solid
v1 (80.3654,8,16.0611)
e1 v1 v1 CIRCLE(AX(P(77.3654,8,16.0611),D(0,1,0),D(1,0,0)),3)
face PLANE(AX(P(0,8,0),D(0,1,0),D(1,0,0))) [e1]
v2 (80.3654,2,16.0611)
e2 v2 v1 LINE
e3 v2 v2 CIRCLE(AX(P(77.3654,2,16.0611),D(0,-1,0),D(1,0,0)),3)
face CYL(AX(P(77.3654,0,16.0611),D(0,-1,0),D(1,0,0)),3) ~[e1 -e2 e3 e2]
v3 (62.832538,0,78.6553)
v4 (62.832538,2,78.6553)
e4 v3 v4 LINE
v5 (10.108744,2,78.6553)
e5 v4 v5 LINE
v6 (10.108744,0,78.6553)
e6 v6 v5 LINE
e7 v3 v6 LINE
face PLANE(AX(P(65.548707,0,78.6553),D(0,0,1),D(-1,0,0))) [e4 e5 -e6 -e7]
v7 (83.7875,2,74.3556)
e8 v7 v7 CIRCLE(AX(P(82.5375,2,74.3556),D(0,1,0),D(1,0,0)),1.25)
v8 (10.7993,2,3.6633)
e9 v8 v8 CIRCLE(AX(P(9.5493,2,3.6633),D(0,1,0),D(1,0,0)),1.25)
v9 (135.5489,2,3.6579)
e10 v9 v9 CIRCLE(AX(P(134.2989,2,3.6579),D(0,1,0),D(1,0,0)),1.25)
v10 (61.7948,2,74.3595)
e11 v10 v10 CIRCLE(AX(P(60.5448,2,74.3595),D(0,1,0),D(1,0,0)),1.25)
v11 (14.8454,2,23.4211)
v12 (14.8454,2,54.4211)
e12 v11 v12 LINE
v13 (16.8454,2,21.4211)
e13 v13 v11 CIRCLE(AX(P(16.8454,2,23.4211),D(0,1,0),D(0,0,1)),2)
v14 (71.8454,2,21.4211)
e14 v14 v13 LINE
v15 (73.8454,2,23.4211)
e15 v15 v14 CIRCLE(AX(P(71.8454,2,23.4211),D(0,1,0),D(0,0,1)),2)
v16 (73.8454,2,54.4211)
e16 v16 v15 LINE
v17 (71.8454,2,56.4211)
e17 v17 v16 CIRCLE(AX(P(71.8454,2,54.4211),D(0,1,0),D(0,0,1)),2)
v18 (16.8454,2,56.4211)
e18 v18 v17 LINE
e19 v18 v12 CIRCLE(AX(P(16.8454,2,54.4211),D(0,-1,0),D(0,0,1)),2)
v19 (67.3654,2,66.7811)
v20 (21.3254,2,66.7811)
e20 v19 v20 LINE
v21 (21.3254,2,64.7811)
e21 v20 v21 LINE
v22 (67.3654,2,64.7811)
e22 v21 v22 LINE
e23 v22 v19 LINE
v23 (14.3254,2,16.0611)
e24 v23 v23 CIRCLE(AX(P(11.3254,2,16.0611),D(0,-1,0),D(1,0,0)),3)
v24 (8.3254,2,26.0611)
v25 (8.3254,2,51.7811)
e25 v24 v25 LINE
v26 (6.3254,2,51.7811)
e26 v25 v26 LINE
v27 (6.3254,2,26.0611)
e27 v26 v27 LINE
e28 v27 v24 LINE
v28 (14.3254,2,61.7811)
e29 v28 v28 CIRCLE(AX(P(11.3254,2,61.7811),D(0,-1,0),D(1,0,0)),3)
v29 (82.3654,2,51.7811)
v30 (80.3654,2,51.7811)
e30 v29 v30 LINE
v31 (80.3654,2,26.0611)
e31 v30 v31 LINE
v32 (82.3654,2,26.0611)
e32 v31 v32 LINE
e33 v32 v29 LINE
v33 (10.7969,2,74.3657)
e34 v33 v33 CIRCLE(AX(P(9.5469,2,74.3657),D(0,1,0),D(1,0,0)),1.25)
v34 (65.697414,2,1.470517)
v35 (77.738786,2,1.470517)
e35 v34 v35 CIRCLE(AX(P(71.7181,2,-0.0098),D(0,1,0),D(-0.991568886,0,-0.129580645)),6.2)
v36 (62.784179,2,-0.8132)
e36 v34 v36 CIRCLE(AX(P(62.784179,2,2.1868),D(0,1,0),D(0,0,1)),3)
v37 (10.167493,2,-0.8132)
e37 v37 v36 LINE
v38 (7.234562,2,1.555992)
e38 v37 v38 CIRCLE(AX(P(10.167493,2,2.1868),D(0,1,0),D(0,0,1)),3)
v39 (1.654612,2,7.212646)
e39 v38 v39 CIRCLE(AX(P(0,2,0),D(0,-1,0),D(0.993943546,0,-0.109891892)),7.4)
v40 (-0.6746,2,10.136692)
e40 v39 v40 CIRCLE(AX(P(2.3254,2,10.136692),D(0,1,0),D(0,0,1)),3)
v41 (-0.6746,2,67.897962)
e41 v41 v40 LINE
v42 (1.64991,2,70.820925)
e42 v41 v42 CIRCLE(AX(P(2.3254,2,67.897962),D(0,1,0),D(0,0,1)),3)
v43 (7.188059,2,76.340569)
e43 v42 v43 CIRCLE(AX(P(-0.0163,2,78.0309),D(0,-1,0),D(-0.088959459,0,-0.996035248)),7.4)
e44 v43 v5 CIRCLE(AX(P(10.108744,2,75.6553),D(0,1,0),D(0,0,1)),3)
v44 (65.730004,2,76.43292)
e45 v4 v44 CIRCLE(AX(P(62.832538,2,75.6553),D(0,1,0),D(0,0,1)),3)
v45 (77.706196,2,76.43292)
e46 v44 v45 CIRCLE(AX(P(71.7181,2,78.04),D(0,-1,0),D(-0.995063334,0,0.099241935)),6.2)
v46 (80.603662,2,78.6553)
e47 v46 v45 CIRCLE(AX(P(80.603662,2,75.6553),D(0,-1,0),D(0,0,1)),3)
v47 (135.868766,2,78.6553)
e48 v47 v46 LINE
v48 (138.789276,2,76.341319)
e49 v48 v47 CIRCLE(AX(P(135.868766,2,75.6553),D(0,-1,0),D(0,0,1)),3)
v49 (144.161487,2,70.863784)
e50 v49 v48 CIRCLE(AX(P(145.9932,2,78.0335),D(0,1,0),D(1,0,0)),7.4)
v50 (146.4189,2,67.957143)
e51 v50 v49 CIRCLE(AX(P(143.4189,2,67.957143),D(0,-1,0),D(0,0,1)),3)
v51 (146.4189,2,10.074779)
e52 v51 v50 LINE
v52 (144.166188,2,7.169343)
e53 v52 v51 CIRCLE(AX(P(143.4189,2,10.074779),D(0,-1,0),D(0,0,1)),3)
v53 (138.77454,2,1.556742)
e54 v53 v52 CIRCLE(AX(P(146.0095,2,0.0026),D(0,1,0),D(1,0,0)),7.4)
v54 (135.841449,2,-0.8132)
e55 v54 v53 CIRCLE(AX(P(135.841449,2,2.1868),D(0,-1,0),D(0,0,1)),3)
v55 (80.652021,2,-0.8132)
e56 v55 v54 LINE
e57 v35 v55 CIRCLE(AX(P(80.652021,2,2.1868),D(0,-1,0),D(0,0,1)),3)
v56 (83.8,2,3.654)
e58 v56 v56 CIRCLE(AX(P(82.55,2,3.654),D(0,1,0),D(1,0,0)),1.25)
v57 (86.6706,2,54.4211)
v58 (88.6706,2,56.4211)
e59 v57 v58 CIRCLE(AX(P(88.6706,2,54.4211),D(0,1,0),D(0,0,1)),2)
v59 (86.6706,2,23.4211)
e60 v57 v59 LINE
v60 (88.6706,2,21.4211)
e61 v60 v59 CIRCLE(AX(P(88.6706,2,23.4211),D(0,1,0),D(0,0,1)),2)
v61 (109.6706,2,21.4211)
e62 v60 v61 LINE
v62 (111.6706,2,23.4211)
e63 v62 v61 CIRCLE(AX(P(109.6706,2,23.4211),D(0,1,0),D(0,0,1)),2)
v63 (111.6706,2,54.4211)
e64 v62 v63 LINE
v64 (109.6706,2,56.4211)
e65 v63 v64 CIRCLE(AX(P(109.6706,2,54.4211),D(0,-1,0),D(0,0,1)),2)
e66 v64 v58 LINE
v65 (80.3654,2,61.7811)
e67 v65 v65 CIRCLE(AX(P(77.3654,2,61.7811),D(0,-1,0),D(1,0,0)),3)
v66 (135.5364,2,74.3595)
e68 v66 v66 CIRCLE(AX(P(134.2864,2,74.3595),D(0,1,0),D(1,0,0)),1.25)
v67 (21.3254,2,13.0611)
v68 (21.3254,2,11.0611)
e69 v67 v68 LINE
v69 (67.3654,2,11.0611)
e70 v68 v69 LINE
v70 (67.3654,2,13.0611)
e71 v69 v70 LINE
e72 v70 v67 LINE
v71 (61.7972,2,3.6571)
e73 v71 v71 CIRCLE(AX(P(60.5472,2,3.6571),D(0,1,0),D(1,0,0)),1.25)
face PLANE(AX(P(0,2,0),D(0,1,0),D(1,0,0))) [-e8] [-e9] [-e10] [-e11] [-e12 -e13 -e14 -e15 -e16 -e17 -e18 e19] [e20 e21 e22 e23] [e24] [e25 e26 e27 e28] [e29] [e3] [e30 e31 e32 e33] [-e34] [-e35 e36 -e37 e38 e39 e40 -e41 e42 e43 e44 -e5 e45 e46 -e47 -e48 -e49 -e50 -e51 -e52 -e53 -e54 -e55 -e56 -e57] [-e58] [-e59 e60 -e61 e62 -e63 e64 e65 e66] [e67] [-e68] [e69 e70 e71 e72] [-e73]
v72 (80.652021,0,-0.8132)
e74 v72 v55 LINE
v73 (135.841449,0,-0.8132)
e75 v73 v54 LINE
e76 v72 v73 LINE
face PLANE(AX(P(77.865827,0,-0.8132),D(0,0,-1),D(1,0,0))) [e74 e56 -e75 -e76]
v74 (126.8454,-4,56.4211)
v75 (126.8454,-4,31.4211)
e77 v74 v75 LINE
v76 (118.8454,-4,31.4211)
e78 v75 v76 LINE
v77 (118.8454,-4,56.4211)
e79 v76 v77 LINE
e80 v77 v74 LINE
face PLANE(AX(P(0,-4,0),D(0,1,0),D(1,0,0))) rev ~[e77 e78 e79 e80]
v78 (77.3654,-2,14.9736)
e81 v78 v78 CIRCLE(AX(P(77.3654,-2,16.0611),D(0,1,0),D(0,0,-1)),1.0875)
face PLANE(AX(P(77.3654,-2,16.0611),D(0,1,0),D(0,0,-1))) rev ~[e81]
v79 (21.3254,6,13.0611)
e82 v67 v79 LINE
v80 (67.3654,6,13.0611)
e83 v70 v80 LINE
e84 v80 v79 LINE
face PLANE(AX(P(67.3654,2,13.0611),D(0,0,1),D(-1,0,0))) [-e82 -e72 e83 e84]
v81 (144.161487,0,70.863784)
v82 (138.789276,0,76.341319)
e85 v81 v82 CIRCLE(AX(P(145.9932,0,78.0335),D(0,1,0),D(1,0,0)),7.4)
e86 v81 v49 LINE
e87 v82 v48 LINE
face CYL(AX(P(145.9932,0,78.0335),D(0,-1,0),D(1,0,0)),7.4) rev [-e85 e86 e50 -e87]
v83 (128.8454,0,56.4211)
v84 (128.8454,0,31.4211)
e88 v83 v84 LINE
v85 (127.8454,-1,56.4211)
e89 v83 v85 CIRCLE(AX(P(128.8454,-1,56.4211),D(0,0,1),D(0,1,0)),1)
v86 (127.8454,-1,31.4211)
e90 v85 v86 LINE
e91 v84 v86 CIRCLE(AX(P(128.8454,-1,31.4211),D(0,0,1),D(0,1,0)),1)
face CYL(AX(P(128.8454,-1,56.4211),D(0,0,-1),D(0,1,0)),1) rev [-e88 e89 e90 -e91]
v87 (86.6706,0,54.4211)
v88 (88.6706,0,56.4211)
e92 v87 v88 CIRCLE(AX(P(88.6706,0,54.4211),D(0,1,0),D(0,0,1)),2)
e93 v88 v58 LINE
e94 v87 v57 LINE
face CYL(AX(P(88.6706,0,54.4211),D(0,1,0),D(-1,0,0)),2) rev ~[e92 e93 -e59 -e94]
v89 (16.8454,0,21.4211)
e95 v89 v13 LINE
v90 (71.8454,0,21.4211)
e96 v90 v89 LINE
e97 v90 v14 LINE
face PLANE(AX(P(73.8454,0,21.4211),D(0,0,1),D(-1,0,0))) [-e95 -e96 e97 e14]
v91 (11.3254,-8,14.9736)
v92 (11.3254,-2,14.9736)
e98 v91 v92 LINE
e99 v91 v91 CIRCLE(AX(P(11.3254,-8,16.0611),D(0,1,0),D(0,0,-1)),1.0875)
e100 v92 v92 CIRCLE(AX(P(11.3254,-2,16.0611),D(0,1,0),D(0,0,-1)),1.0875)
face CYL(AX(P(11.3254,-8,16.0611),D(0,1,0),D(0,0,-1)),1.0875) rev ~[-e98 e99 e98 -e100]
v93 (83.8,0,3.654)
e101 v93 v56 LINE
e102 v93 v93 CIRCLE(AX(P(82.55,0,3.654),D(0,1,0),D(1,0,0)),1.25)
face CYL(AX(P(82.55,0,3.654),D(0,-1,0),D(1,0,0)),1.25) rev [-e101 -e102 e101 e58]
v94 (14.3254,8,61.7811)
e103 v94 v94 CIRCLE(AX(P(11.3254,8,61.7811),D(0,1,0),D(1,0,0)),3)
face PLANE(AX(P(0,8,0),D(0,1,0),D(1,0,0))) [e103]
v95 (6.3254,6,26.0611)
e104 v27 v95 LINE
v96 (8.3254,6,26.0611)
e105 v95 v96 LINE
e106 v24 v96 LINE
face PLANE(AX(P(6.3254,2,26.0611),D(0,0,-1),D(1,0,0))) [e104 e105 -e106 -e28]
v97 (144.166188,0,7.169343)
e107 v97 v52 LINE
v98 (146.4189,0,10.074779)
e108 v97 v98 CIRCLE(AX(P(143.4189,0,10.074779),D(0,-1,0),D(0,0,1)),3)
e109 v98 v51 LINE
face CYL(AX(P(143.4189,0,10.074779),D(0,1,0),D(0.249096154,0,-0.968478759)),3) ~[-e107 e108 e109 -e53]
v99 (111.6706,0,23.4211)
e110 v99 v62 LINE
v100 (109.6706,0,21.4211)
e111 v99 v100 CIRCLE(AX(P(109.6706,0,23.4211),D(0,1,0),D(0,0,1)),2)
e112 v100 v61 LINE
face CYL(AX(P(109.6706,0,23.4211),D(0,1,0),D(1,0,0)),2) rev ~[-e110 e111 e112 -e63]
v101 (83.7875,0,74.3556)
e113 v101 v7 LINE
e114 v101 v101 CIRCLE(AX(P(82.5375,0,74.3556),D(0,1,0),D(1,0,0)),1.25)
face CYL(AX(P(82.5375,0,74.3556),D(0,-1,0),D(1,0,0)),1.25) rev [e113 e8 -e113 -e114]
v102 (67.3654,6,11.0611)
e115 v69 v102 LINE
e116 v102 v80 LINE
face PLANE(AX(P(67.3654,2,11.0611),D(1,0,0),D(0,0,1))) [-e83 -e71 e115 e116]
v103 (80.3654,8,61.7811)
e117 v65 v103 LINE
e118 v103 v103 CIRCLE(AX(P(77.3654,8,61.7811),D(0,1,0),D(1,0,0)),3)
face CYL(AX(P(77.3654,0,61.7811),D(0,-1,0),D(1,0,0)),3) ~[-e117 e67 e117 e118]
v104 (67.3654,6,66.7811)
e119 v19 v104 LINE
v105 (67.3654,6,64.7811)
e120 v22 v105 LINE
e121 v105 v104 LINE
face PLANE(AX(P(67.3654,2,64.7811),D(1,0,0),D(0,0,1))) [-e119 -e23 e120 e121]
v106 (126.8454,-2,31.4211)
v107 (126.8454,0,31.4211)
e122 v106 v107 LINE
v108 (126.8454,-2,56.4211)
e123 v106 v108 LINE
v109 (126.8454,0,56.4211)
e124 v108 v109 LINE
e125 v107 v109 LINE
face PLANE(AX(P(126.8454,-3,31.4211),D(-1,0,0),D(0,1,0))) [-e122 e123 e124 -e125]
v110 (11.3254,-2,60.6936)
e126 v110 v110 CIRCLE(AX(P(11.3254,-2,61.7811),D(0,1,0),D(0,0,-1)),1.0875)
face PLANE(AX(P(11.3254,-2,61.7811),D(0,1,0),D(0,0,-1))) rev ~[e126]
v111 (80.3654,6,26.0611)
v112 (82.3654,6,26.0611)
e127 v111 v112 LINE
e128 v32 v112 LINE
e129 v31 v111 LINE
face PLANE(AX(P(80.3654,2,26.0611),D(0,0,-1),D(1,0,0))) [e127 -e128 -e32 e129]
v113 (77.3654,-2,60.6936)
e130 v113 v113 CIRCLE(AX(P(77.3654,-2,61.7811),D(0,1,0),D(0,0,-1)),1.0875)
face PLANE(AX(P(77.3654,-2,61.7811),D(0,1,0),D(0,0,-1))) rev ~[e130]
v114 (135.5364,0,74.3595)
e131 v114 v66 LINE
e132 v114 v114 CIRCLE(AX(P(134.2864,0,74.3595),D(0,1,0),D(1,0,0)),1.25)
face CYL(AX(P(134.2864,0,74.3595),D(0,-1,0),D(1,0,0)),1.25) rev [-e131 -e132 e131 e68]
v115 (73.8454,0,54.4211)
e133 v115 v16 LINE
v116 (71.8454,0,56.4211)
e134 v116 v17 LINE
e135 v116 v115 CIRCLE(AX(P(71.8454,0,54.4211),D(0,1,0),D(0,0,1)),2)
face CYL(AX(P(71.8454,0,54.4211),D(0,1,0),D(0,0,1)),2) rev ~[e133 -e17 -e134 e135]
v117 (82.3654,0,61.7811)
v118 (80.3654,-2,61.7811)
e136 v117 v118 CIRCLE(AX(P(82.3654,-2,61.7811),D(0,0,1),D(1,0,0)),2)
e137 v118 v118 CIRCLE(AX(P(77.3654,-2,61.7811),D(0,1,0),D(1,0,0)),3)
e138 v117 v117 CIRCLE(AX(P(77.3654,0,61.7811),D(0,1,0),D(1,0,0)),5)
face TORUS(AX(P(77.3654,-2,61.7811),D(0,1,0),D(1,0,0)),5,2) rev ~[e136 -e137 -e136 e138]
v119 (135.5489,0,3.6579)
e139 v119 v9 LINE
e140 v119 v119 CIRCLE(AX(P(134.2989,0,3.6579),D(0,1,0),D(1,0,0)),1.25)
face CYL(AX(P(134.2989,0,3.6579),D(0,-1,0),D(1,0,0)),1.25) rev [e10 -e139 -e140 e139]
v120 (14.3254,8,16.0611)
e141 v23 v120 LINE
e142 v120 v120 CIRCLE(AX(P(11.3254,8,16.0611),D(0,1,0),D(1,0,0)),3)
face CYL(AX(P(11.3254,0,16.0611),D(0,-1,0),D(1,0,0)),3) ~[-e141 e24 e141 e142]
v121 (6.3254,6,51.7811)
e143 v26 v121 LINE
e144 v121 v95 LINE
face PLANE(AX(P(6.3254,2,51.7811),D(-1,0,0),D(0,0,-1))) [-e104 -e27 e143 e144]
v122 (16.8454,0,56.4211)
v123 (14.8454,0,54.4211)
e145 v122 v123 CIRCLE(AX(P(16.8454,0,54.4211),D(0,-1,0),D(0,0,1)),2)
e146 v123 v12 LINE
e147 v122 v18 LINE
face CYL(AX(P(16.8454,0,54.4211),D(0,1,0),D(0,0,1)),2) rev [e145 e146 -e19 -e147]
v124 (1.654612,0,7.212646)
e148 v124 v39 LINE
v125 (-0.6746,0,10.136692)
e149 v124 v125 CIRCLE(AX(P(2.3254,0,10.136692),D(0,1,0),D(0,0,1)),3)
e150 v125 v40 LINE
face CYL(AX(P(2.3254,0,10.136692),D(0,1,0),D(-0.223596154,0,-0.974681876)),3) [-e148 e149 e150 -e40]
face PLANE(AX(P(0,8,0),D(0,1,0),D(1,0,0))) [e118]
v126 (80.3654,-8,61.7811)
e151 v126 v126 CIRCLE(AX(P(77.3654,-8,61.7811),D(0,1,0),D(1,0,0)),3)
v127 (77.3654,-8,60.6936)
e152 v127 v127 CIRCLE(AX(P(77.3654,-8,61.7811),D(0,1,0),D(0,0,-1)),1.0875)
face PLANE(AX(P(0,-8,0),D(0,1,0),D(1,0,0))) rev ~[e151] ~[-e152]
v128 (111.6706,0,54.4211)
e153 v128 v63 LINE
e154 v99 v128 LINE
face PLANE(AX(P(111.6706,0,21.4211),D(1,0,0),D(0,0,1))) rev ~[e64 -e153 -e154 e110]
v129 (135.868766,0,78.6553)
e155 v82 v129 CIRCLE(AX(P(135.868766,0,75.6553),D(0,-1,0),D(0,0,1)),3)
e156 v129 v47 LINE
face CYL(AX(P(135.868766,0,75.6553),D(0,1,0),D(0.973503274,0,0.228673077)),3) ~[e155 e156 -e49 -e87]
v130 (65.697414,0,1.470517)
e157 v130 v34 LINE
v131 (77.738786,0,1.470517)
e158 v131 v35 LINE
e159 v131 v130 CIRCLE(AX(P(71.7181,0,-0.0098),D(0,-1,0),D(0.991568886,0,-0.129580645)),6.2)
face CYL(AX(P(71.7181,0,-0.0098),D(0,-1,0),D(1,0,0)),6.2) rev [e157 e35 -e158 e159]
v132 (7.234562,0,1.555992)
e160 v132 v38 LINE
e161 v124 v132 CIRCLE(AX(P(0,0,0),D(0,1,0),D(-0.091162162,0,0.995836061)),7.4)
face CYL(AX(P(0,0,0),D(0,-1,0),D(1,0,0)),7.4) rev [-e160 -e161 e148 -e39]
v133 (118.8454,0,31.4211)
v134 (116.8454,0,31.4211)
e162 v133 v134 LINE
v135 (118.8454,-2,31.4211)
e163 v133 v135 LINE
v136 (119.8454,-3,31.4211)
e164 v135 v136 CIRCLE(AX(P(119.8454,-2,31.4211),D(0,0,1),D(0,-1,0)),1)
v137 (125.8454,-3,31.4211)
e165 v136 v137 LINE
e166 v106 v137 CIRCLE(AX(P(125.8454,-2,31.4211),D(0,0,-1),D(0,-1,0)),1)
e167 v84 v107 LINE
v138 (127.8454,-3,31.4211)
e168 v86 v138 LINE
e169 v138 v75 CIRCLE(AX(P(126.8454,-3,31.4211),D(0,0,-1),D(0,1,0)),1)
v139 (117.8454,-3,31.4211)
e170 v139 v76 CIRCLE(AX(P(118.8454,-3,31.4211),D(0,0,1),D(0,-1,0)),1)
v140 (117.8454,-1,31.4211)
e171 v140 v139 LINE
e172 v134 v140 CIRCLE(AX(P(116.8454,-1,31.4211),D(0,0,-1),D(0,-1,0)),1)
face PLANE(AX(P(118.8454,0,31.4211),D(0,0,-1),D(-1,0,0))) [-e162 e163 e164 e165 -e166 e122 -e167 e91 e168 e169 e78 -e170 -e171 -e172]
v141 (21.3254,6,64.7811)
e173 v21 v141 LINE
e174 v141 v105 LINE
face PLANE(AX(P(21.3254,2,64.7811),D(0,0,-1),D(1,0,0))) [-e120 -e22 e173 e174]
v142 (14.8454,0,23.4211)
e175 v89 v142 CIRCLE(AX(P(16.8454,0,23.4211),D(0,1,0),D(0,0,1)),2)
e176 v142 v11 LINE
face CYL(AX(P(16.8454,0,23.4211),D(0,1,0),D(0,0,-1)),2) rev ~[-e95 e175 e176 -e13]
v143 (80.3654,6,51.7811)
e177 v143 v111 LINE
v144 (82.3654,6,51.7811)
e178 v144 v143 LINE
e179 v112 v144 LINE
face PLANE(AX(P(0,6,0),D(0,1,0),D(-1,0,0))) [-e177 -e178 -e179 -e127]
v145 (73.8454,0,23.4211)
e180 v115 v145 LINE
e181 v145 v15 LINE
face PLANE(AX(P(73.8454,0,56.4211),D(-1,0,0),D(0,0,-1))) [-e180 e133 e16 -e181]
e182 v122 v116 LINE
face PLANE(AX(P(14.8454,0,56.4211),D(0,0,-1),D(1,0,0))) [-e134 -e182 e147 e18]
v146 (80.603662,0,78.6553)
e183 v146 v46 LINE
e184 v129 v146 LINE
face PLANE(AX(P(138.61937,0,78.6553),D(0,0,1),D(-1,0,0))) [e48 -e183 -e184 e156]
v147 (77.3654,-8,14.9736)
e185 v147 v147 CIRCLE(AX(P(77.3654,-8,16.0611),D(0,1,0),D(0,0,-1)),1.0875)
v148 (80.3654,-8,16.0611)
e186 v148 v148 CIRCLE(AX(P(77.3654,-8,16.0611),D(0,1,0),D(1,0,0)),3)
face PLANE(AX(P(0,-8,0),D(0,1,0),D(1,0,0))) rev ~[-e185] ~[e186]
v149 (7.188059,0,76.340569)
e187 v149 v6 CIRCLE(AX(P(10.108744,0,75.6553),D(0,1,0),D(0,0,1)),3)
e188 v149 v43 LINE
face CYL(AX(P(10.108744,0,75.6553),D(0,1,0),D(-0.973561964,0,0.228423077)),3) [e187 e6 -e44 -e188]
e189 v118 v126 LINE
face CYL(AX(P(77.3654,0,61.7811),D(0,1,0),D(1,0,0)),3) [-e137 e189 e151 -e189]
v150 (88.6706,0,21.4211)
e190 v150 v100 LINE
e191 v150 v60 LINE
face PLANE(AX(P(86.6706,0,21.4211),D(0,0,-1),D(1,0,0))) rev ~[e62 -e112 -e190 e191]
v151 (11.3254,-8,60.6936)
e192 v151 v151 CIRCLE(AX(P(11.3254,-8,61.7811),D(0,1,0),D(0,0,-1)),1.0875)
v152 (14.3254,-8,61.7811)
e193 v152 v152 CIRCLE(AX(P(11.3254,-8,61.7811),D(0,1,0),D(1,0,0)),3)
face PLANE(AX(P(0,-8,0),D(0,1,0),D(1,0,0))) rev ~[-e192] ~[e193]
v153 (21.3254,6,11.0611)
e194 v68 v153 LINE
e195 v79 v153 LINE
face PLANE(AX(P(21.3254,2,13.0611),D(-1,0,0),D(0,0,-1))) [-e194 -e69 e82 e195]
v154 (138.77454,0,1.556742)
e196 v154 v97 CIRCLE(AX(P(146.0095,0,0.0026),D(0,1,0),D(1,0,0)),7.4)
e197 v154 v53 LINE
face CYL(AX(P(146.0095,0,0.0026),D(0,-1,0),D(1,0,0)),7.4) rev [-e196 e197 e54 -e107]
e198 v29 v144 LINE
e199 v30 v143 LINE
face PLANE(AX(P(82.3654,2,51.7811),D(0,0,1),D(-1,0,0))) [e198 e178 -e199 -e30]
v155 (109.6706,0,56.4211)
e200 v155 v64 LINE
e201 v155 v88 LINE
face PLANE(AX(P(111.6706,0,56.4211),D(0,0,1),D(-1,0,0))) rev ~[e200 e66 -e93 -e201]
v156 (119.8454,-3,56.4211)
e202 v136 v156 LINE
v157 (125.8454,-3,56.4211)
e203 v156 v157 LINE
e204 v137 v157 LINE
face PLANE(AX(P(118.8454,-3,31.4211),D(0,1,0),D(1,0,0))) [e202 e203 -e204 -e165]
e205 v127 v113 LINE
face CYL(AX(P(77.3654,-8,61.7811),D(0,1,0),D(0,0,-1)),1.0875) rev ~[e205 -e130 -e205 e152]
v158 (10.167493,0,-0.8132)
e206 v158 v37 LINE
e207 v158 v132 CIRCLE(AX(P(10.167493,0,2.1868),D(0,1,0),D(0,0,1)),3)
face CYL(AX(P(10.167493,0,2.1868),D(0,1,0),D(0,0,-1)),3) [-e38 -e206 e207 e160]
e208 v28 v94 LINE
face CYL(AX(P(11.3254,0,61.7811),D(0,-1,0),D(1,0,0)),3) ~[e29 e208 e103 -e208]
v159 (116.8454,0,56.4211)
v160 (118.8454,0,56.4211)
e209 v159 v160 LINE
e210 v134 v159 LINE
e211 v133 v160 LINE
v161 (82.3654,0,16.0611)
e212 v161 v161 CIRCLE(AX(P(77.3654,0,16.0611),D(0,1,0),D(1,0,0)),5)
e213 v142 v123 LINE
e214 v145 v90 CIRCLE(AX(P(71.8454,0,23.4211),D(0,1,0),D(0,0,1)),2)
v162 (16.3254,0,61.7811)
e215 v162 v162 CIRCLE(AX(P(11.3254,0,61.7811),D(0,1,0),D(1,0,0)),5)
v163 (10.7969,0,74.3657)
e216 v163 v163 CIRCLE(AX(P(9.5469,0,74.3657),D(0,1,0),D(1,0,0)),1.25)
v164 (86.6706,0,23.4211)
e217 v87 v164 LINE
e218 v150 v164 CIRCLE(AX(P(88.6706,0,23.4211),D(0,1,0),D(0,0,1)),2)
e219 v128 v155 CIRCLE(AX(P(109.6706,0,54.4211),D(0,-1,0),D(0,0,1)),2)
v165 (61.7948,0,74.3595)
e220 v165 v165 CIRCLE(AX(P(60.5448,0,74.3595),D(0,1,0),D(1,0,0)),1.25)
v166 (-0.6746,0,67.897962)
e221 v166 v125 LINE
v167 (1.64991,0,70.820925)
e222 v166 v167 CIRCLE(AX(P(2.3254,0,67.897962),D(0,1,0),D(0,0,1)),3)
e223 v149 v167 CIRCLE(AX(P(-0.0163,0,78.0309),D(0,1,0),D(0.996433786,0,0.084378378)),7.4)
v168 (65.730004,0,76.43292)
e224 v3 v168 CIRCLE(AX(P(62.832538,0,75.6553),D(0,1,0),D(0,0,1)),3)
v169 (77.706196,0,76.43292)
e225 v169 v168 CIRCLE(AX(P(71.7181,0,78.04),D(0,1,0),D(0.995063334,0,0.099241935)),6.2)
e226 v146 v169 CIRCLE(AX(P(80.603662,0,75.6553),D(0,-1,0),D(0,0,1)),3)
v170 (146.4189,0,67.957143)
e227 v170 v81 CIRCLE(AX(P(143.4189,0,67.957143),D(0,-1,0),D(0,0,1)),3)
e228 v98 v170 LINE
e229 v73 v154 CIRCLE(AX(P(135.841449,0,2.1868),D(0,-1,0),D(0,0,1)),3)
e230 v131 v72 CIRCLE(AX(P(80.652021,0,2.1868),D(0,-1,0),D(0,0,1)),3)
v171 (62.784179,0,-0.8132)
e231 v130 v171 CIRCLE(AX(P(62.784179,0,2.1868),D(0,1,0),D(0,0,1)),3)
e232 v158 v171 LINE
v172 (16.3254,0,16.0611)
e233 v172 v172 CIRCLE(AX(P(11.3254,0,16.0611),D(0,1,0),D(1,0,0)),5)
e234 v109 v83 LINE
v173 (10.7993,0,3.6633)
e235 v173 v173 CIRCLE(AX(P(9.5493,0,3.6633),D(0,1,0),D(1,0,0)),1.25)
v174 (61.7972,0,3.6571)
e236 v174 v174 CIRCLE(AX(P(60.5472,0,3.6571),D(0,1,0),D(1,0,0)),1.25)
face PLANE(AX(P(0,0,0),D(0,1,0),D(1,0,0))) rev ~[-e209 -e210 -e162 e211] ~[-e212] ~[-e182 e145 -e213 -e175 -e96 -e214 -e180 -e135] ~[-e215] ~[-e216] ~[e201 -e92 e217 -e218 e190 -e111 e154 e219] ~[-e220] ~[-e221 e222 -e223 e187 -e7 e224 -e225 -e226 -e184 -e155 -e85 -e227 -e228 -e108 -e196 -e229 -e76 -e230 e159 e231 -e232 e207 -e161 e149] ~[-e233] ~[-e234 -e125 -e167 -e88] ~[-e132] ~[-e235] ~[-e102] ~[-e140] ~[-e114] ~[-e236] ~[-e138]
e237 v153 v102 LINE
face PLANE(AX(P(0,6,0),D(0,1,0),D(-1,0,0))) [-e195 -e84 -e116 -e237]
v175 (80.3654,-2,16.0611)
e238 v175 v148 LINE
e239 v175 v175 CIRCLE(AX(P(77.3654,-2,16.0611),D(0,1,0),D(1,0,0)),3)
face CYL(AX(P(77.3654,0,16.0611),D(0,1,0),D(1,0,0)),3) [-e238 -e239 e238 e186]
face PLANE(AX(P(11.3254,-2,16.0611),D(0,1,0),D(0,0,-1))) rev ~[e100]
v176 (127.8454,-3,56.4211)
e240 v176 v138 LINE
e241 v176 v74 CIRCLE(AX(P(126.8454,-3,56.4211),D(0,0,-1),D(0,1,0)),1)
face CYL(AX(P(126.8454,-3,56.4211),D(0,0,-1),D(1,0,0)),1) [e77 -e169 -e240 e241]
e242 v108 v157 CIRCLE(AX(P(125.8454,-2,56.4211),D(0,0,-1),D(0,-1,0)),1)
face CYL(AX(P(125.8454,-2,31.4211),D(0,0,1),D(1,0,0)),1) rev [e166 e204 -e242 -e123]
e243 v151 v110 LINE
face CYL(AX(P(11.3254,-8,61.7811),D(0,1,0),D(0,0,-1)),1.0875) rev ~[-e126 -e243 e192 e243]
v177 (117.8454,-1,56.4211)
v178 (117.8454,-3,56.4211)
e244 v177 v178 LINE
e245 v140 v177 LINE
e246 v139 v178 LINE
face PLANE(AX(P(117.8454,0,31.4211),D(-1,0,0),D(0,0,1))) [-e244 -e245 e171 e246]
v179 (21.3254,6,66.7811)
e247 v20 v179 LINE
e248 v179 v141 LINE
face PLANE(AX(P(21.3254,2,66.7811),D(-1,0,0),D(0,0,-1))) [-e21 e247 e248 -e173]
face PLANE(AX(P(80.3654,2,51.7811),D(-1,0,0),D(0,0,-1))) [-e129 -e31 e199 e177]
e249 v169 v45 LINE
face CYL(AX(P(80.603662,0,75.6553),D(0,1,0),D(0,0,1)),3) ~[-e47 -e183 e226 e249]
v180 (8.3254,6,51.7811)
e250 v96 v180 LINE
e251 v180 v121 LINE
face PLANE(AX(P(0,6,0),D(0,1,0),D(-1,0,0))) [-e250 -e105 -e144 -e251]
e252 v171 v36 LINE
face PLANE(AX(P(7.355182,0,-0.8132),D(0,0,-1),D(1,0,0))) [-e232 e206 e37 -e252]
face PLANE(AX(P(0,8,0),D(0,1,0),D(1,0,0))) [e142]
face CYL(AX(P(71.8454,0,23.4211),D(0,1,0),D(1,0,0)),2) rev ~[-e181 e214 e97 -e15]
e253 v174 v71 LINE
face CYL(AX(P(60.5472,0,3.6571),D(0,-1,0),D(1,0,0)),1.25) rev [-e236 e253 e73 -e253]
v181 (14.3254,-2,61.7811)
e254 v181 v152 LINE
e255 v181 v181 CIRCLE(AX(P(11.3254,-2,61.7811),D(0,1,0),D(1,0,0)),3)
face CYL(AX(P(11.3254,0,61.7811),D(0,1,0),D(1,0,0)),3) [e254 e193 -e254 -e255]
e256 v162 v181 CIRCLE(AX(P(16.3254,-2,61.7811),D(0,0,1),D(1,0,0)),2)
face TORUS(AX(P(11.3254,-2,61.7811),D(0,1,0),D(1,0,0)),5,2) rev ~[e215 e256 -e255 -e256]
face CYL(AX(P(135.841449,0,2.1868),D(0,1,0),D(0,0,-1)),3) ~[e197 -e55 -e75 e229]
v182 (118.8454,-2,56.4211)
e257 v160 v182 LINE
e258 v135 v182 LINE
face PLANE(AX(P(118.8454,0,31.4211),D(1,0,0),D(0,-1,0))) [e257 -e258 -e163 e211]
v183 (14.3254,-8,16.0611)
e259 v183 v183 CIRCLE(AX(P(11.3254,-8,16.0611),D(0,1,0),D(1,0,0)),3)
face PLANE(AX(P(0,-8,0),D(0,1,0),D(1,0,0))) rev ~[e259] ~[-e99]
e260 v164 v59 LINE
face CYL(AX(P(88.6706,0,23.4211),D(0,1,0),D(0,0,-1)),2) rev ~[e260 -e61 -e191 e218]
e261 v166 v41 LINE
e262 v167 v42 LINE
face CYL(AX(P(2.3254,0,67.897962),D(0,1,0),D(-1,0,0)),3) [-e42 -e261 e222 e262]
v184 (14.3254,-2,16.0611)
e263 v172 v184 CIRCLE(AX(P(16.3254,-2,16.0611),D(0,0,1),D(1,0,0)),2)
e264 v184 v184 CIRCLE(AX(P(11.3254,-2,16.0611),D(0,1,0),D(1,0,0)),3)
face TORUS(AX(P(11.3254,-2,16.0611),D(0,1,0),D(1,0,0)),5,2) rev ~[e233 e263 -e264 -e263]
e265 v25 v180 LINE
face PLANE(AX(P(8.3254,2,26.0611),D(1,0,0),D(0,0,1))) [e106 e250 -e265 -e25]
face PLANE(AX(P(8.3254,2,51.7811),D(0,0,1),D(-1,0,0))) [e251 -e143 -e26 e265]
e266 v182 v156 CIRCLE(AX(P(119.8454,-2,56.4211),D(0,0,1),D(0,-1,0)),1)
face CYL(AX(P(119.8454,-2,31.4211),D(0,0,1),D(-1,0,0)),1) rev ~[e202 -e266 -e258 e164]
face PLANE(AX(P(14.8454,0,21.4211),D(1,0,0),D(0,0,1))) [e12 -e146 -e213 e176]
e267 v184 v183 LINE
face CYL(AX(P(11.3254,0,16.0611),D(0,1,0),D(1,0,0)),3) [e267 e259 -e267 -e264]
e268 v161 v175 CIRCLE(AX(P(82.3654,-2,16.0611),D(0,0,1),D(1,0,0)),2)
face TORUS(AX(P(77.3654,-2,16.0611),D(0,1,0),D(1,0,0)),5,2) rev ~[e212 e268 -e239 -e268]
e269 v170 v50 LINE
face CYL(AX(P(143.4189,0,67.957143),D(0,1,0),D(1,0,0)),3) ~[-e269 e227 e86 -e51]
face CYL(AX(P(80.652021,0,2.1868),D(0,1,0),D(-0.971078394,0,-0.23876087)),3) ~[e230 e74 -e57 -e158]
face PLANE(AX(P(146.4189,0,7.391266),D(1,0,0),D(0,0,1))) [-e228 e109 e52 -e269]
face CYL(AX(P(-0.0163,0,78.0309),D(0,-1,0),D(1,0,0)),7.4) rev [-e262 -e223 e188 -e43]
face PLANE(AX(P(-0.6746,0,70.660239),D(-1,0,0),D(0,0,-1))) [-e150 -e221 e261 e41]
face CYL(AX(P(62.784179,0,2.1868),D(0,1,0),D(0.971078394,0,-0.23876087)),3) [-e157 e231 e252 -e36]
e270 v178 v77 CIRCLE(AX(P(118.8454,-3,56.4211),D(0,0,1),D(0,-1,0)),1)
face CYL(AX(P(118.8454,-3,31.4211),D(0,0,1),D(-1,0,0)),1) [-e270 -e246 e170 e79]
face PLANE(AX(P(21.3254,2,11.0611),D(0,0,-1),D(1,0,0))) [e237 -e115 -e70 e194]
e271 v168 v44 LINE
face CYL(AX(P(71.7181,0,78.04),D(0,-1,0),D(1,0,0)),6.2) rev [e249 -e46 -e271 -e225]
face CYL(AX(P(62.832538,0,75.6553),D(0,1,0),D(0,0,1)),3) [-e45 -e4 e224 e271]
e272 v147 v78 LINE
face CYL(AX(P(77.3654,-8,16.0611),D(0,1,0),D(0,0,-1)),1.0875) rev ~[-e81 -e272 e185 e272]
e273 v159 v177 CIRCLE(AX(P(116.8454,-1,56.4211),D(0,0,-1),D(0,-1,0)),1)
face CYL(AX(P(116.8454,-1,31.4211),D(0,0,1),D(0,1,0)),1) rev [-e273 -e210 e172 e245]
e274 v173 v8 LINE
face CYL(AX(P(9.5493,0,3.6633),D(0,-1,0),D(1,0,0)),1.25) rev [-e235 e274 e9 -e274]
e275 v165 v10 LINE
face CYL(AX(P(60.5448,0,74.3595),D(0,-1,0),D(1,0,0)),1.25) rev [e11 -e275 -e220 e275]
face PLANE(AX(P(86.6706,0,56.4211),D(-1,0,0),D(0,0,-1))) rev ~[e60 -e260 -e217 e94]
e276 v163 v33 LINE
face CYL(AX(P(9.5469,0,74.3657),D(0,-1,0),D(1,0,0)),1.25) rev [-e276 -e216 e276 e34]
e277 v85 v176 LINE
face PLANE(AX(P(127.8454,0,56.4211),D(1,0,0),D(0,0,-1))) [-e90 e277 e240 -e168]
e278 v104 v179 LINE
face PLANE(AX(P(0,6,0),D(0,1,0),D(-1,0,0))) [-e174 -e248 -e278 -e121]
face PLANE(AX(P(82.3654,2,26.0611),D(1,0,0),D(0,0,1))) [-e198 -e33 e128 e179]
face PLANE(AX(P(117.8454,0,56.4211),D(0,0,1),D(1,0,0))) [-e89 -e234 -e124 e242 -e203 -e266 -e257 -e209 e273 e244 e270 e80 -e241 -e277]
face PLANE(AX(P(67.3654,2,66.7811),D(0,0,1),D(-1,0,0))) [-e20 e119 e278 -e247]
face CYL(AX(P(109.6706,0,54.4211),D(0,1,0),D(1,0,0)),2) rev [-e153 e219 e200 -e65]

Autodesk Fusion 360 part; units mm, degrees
sketch "Sketch1" plane through (0, 0, 0) normal (0, 1, 0) x (1, 0, 0) in component "Proto Board Adapter"
  circle A0 centre (71.7181, 0.0098) radius 6.2
  circle A1 centre (60.5472, -3.6571) radius 3
  circle A2 centre (71.7181, 0.0098) radius 2
  circle A3 centre (60.5448, -74.3595) radius 1.25
  circle A4 centre (60.5472, -3.6571) radius 1.25
  line L0 (146.4189, -78.6553) -> (-0.6746, -78.6553)
  circle A5 centre (9.5469, -74.3657) radius 3
  circle A6 centre (9.5469, -74.3657) radius 1.25
  circle A7 centre (86.7325, -64.7668) radius 3
  circle A8 centre (146.0095, -0.0026) radius 7.4
  circle A9 centre (134.2864, -74.3595) radius 3
  circle A10 centre (134.2989, -3.6579) radius 1.25
  circle A11 centre (-0.0163, -78.0309) radius 5
  circle A12 centre (145.9932, -78.0335) radius 7.4
  circle A13 centre (134.2989, -3.6579) radius 3
  circle A14 centre (9.5493, -3.6633) radius 3
  circle A15 centre (82.55, -3.654) radius 1.25
  line L1 (146.4189, 0.8132) -> (146.4189, -78.6553)
  circle A16 centre (0, 0) radius 5
  circle A17 centre (146.0095, -0.0026) radius 2
  circle A18 centre (86.7325, -64.7668) radius 1.25
  circle A19 centre (0, 0) radius 7.4
  circle A20 centre (-0.0163, -78.0309) radius 7.4
  circle A21 centre (82.5375, -74.3556) radius 1.25
  circle A22 centre (82.55, -3.654) radius 3
  circle A23 centre (9.5493, -3.6633) radius 1.25
  circle A24 centre (145.9932, -78.0335) radius 2
  circle A25 centre (127.4333, -64.7704) radius 3
  circle A26 centre (127.4333, -64.7704) radius 1.25
  circle A27 centre (-0.0163, -78.0309) radius 2
  circle A28 centre (82.5375, -74.3556) radius 3
  circle A29 centre (146.0095, -0.0026) radius 5
  line L2 (-0.6746, -78.6553) -> (-0.6746, 0.8132)
  circle A30 centre (0, 0) radius 2
  circle A31 centre (145.9932, -78.0335) radius 5
  line L3 (-0.6746, 0.8132) -> (146.4189, 0.8132)
  circle A32 centre (71.7181, 0.0098) radius 5
  circle A33 centre (71.7181, -78.04) radius 6.2
  circle A34 centre (134.2864, -74.3595) radius 1.25
  circle A35 centre (71.7181, -78.04) radius 2
  circle A36 centre (60.5448, -74.3595) radius 3
  circle A37 centre (71.7181, -78.04) radius 5
  point P0 (72.1438, -78.6618)
  point P1 (72.1439, -0.612)
  dimension "d12" = 2.5
  dimension "d13" = 6
  dimension "d14" = 2.5
  dimension "d15" = 6
  dimension "d16" = 2.5
  dimension "d17" = 6
  dimension "d18" = 2.5
  dimension "d19" = 6
  dimension "d20" = 2.5
  dimension "d21" = 6
  dimension "d22" = 2.5
  dimension "d23" = 6
  dimension "d24" = 2.5
  dimension "d25" = 6
  dimension "d26" = 2.5
  dimension "d27" = 6
  dimension "d28" = 2.5
  dimension "d29" = 6
  dimension "d30" = 2.5
  dimension "d31" = 6
  dimension "d32" = 4
  dimension "d33" = 10
  dimension "d34" = 4
  dimension "d35" = 10
  dimension "d36" = 4
  dimension "d37" = 10
  dimension "d38" = 4
  dimension "d39" = 10
  dimension "d40" = 4
  dimension "d41" = 10
  dimension "d42" = 4
  dimension "d43" = 10
  dimension "d120" = 147.0934
  dimension "d121" = 79.4685
sketch "Sketch2" plane through (0, 0, 0) normal (0, 1, 0) x (1, 0, 0) in component "Proto Board Adapter"
  circle A0 centre (77.3654, -61.7811) radius 3
  circle A1 centre (35.4554, -16.0611) radius 1.25
  circle A2 centre (29.1054, -61.7811) radius 1.25
  circle A3 centre (59.5854, -16.0611) radius 3
  circle A4 centre (77.3654, -61.7811) radius 1.25
  circle A5 centre (53.2354, -61.7811) radius 1.25
  circle A6 centre (35.4554, -61.7811) radius 1.25
  circle A7 centre (35.4554, -61.7811) radius 3
  circle A8 centre (53.2354, -61.7811) radius 3
  circle A9 centre (53.2354, -16.0611) radius 1.25
  circle A10 centre (29.1054, -16.0611) radius 3
  circle A11 centre (53.2354, -16.0611) radius 3
  circle A12 centre (59.5854, -16.0611) radius 1.25
  circle A13 centre (29.1054, -61.7811) radius 3
  circle A14 centre (59.5854, -61.7811) radius 3
  circle A15 centre (11.3254, -61.7811) radius 3
  circle A16 centre (59.5854, -61.7811) radius 1.25
  circle A17 centre (11.3254, -16.0611) radius 3
  circle A18 centre (77.3654, -16.0611) radius 1.25
  circle A19 centre (11.3254, -16.0611) radius 1.25
  circle A20 centre (11.3254, -61.7811) radius 1.25
  circle A21 centre (29.1054, -16.0611) radius 1.25
  circle A22 centre (35.4554, -16.0611) radius 3
  circle A23 centre (77.3654, -16.0611) radius 3
  line L0 (11.3254, -61.7811) -> (11.3254, -78.6553) construction
  line L1 (11.3254, -16.0611) -> (11.3254, 0.8132) construction
  line L2 (-0.6746, 0.8132) -> (146.4189, 0.8132) construction
  line L3 (146.4189, -78.6553) -> (-0.6746, -78.6553) construction
  line L4 (11.3254, -61.7811) -> (29.1054, -61.7811) construction
  line L5 (29.1054, -61.7811) -> (35.4554, -61.7811) construction
  line L6 (35.4554, -61.7811) -> (53.2354, -61.7811) construction
  line L7 (53.2354, -61.7811) -> (59.5854, -61.7811) construction
  line L8 (59.5854, -61.7811) -> (77.3654, -61.7811) construction
  line L9 (11.3254, -61.7811) -> (-0.6746, -61.7811) construction
  line L10 (-0.6746, -78.6553) -> (-0.6746, 0.8132) construction
  line L11 (11.3254, -61.7811) -> (77.3654, -16.0611) construction
  line L12 (77.3654, -61.7811) -> (11.3254, -16.0611) construction
  line L13 (11.3254, -16.0611) -> (-0.6746, -16.0611) construction
  point P0 (44.3454, -38.9211)
  dimension "d44" = 2.5
  dimension "d45" = 6
  dimension "d46" = 2.5
  dimension "d47" = 6
  dimension "d50" = 2.5
  dimension "d51" = 6
  dimension "d53" = 6
  dimension "d54" = 2.5
  dimension "d55" = 6
  dimension "d56" = 2.5
  dimension "d57" = 6
  dimension "d58" = 2.5
  dimension "d59" = 6
  dimension "d60" = 2.5
  dimension "d61" = 6
  dimension "d70" = 2.5
  dimension "d71" = 6
  dimension "d72" = 2.5
  dimension "d73" = 6
  dimension "d74" = 2.5
  dimension "d75" = 6
  dimension "d76" = 2.5
  dimension "d77" = 6
  dimension "d97" = 45.72
  dimension "d98" = 45.72
  dimension "d99" = 45.72
  dimension "d100" = 45.72
  dimension "d101" = 45.72
  dimension "d102" = 45.72
  dimension "d107" = 17.78
  dimension "d108" = 17.78
  dimension "d109" = 17.78
  dimension "d110" = 17.78
  dimension "d111" = 6.35
  dimension "d112" = 6.35
  dimension "d113" = 6.35
  dimension "d115" = 6.35
  dimension "d116" = 17.78
  dimension "d117" = 17.78
  dimension "d124" = 12
sketch "Sketch3" plane through (0, 0, 0) normal (0, 1, 0) x (1, 0, 0) in component "Proto Board Adapter"
  line L0 (73.8454, -56.4211) -> (73.8454, -21.4211)
  line L1 (14.8454, -21.4211) -> (14.8454, -56.4211)
  line L2 (14.8454, -56.4211) -> (73.8454, -56.4211)
  line L3 (73.8454, -21.4211) -> (14.8454, -21.4211)
  line L4 (73.8454, -56.4211) -> (14.8454, -21.4211) construction
  line L5 (14.8454, -56.4211) -> (73.8454, -21.4211) construction
  point P0 (44.3454, -38.9211)
  point P1 (44.3454, -38.9211)
  dimension "d154" = 59
  dimension "d155" = 35
sketch "Sketch4" plane through (0, 0, 0) normal (0, 1, 0) x (1, 0, 0) in component "Proto Board Adapter"
  line L0 (117.8454, -56.4211) -> (127.8454, -56.4211)
  line L1 (127.8454, -56.4211) -> (127.8454, -31.4211)
  line L2 (127.8454, -31.4211) -> (117.8454, -31.4211)
  line L3 (117.8454, -31.4211) -> (117.8454, -56.4211)
  line L4 (118.8454, -56.4211) -> (126.8454, -56.4211)
  line L5 (126.8454, -56.4211) -> (126.8454, -31.4211)
  line L6 (126.8454, -31.4211) -> (118.8454, -31.4211)
  line L7 (118.8454, -31.4211) -> (118.8454, -56.4211)
  line L8 (117.8454, -56.4211) -> (127.8454, -31.4211) construction
  line L9 (127.8454, -56.4211) -> (117.8454, -31.4211) construction
  line L10 (118.8454, -56.4211) -> (126.8454, -31.4211) construction
  line L11 (126.8454, -56.4211) -> (118.8454, -31.4211) construction
  line L12 (73.8454, -56.4211) -> (73.8454, -21.4211) construction
  line L13 (73.8454, -56.4211) -> (117.8454, -56.4211) construction
  point P0 (122.8454, -43.9211)
  point P1 (122.8454, -43.9211)
  point P2 (44.3454, -38.9211)
  dimension "d126" = 10
  dimension "d128" = 8
  dimension "d129" = 25
  dimension "d191" = 44
sketch "Sketch5" plane through (0, 0, 0) normal (0, 1, 0) x (1, 0, 0) in component "Proto Board Adapter"
  line L0 (111.6706, -56.4211) -> (86.6706, -56.4211)
  line L1 (86.6706, -56.4211) -> (86.6706, -21.4211)
  line L2 (86.6706, -21.4211) -> (111.6706, -21.4211)
  line L3 (111.6706, -21.4211) -> (111.6706, -56.4211)
  line L4 (146.4189, 0.8132) -> (146.4189, -78.6553)
  line L5 (127.8454, -56.4211) -> (127.8454, -31.4211)
  line L6 (86.6706, -56.4211) -> (111.6706, -21.4211) construction
  line L7 (111.6706, -56.4211) -> (86.6706, -21.4211) construction
  line L8 (99.1706, -38.9211) -> (44.3454, -38.9211) construction
  line L9 (123.3822, -41.1005) -> (123.3822, -81.8799) construction
  line L10 (80.4959, -61.6286) -> (80.4959, -16.4077) construction
  line L11 (80.4959, -47.6613) -> (86.6706, -47.6613) construction
  line L12 (111.6706, -48.2742) -> (117.8454, -48.2742) construction
  line L13 (117.8454, -31.4211) -> (117.8454, -56.4211) construction
  line L14 (99.1706, -56.4211) -> (99.1706, -21.4211) construction
  line L15 (43.9261, -56.4211) -> (43.9261, -21.4211) construction
  line L16 (14.8454, -56.4211) -> (73.8454, -56.4211) construction
  line L17 (73.8454, -21.4211) -> (14.8454, -21.4211) construction
  point P0 (99.1706, -38.9211)
  point P1 (122.8454, -43.9211)
  point P2 (44.3454, -38.9211)
  dimension "d133" = 25
extrude "Extrude1" add sketch "Sketch1" along normal blind 2 contours A0 L0 A5 A8 A12 A14 L1 A19 A20 L2 L3 A33 | A14 A19 | A5 A20 | A1 | A7 | A9 | A13 | A18 | A22 | A25 | A26 | A28 | A36 picked at (7.2201, -3.3347) picked at (7.3767, -75.1677) in component "Proto Board Adapter"
extrude "Extrude2" add sketch "Sketch2" along normal blind 8 contours A0 | A4 | A15 | A17 | A18 | A19 | A20 | A23 in component "Proto Board Adapter"
extrude "Extrude3" add sketch "Sketch2" against normal blind 8 contours A0 | A4 | A15 | A17 | A18 | A19 | A20 | A23 in component "Proto Board Adapter"
hole "Hole1" at (11.3254, -8, 61.7811) direction (0, 1, 0) diameter 2.175 depth 6 tip angle 180 in component "Proto Board Adapter"
hole "Hole2" at (77.3654, -8, 61.7811) direction (0, 1, 0) diameter 2.175 depth 6 tip angle 180 in component "Proto Board Adapter"
hole "Hole3" at (77.3654, -8, 16.0611) direction (0, 1, 0) diameter 2.175 depth 6 tip angle 180 in component "Proto Board Adapter"
hole "Hole4" at (11.3254, -8, 16.0611) direction (0, 1, 0) diameter 2.175 depth 6 tip angle 180 in component "Proto Board Adapter"
extrude "Extrude5" add sketch "Sketch4" against normal blind 4 in component "Proto Board Adapter"
sketch "Sketch6" plane through (0, 0, 31.4211) normal (0, 0, -1) x (1, 0, 0) in component "Proto Board Adapter"
  line L0 (117.8454, 0) -> (127.8454, 0)
  line L1 (127.8454, 0) -> (127.8454, 4)
  line L2 (127.8454, 4) -> (117.8454, 4)
  line L3 (117.8454, 4) -> (117.8454, 0)
  line L4 (126.8454, 0) -> (118.8454, 0)
  line L5 (118.8454, 0) -> (118.8454, 3)
  line L6 (118.8454, 3) -> (126.8454, 3)
  line L7 (126.8454, 3) -> (126.8454, 0)
  line L8 (-0.6746, 0) -> (146.4189, 0)
  line L9 (117.8454, 1.5) -> (118.8454, 1.5) construction
  line L10 (126.8454, 1.5) -> (127.8454, 1.5) construction
  dimension "d159" = 8
  dimension "d160" = 3
extrude "Extrude6" cut sketch "Sketch6" against normal up to surface (25 mm away) contours L0 L4 L5 L6 L7 L8 in component "Proto Board Adapter"
fillet "Fillet1" radius 3 12 edges at (138.6193, 1, 78.6553) (146.4189, 1, 70.6458) (65.5487, 1, 78.6553) (77.8875, 1, 78.6553) (7.3573, 1, 78.6553) (-0.6746, 1, 70.6602) (-0.6746, 1, 7.3692) (7.3552, 1, -0.8132) (77.8659, 1, -0.8132) (65.5704, 1, -0.8132) (138.6546, 1, -0.8132) (146.4189, 1, 7.3913) in component "Proto Board Adapter"
fillet "Fillet3" radius 1 6 edges at (127.8454, 0, 43.9211) (127.8454, -4, 43.9211) (117.8454, 0, 43.9211) (117.8454, -4, 43.9211) (126.8454, -3, 43.9211) (118.8454, -3, 43.9211) in component "Proto Board Adapter"
fillet "Fillet4" radius 2 4 edges at (74.5685, 0, 62.8659) (8.5285, 0, 62.8659) (8.5285, 0, 17.1459) (74.5685, 0, 17.1459) in component "Proto Board Adapter"
sketch "Sketch7" plane through (0, 2, 0) normal (0, 1, 0) x (-1, 0, 0) in component "Proto Board Adapter"
  arc A0 (-146.4189, 10.0748) -> (-144.1662, 7.1693) centre (-143.4189, 10.0748) ccw
  arc A1 (-138.7745, 1.5568) -> (-144.1662, 7.1693) centre (-146.0095, 0.0026) ccw
  arc A2 (-138.7745, 1.5568) -> (-135.8415, -0.8132) centre (-135.8415, 2.1868) ccw
  line L0 (-135.8415, -0.8132) -> (-80.6521, -0.8132)
  arc A3 (-80.6521, -0.8132) -> (-77.7388, 1.4705) centre (-80.6521, 2.1868) ccw
  arc A4 (-65.6975, 1.4705) -> (-77.7388, 1.4705) centre (-71.7181, -0.0098) ccw
  arc A5 (-65.6975, 1.4705) -> (-62.7842, -0.8132) centre (-62.7842, 2.1868) ccw
  line L1 (-62.7842, -0.8132) -> (-10.1675, -0.8132)
  arc A6 (-10.1675, -0.8132) -> (-7.2346, 1.556) centre (-10.1675, 2.1868) ccw
  arc A7 (-1.6546, 7.2126) -> (-7.2346, 1.556) centre (0, 0) ccw
  arc A8 (-1.6546, 7.2126) -> (0.6746, 10.1367) centre (-2.3254, 10.1367) ccw
  line L2 (0.6746, 10.1367) -> (0.6746, 67.898)
  arc A9 (0.6746, 67.898) -> (-1.6499, 70.8209) centre (-2.3254, 67.898) ccw
  arc A10 (-7.188, 76.3406) -> (-1.6499, 70.8209) centre (0.0163, 78.0309) ccw
  arc A11 (-7.188, 76.3406) -> (-10.1087, 78.6553) centre (-10.1087, 75.6553) ccw
  line L3 (-10.1087, 78.6553) -> (-62.8325, 78.6553)
  arc A12 (-62.8325, 78.6553) -> (-65.73, 76.4329) centre (-62.8325, 75.6553) ccw
  arc A13 (-77.7062, 76.4329) -> (-65.73, 76.4329) centre (-71.7181, 78.04) ccw
  arc A14 (-77.7062, 76.4329) -> (-80.6037, 78.6553) centre (-80.6037, 75.6553) ccw
  line L4 (-80.6037, 78.6553) -> (-135.8687, 78.6553)
  arc A15 (-135.8687, 78.6553) -> (-138.7892, 76.3413) centre (-135.8687, 75.6553) ccw
  arc A16 (-144.1615, 70.8638) -> (-138.7892, 76.3413) centre (-145.9932, 78.0335) ccw
  arc A17 (-144.1615, 70.8638) -> (-146.4189, 67.9571) centre (-143.4189, 67.9571) ccw
  line L5 (-146.4189, 67.9571) -> (-146.4189, 10.0748)
  circle A18 centre (-11.3254, 16.0611) radius 3
  circle A19 centre (-11.3254, 61.7811) radius 3
  circle A20 centre (-77.3654, 16.0611) radius 3
  circle A21 centre (-77.3654, 61.7811) radius 3
  circle A22 centre (-9.5469, 74.3657) radius 1.25
  circle A23 centre (-60.5448, 74.3595) radius 1.25
  circle A24 centre (-134.2989, 3.6579) radius 1.25
  circle A25 centre (-82.55, 3.654) radius 1.25
  circle A26 centre (-9.5493, 3.6633) radius 1.25
  circle A27 centre (-82.5375, 74.3556) radius 1.25
  circle A28 centre (-60.5472, 3.6571) radius 1.25
  circle A29 centre (-134.2864, 74.3595) radius 1.25
  line L6 (-67.3654, 66.7811) -> (-21.3254, 66.7811)
  line L7 (-21.3254, 66.7811) -> (-21.3254, 64.7811)
  line L8 (-21.3254, 64.7811) -> (-67.3654, 64.7811)
  line L9 (-67.3654, 64.7811) -> (-67.3654, 66.7811)
  line L10 (-21.3254, 11.0611) -> (-67.3654, 11.0611)
  line L11 (-67.3654, 11.0611) -> (-67.3654, 13.0611)
  line L12 (-67.3654, 13.0611) -> (-21.3254, 13.0611)
  line L13 (-21.3254, 13.0611) -> (-21.3254, 11.0611)
  line L14 (-82.3654, 51.7811) -> (-80.3654, 51.7811)
  line L15 (-80.3654, 51.7811) -> (-80.3654, 26.0611)
  line L16 (-80.3654, 26.0611) -> (-82.3654, 26.0611)
  line L17 (-82.3654, 26.0611) -> (-82.3654, 51.7811)
  line L18 (-8.3254, 26.0611) -> (-8.3254, 51.7811)
  line L19 (-8.3254, 51.7811) -> (-6.3254, 51.7811)
  line L20 (-6.3254, 51.7811) -> (-6.3254, 26.0611)
  line L21 (-6.3254, 26.0611) -> (-8.3254, 26.0611)
  line L22 (-77.3654, 61.7811) -> (-77.3654, 66.1919) construction
  line L23 (-67.3654, 64.7811) -> (-77.3654, 64.7811) construction
  line L24 (-11.3254, 61.7811) -> (-11.3254, 69.0928) construction
  line L25 (-21.3254, 64.7811) -> (-11.3254, 64.7811) construction
  line L26 (-77.3654, 61.7811) -> (-82.7529, 61.7811) construction
  line L27 (-11.3254, 61.7811) -> (-3.9006, 61.7811) construction
  line L28 (-8.3254, 51.7811) -> (-8.3254, 61.7811) construction
  line L29 (-77.3654, 16.0611) -> (-85.3306, 16.0611) construction
  line L30 (-80.3654, 26.0611) -> (-80.3654, 16.0611) construction
  line L31 (-80.3654, 51.7811) -> (-80.3654, 61.7811) construction
  line L32 (-8.3254, 26.0611) -> (-8.3254, 16.0611) construction
  line L33 (-77.3654, 16.0611) -> (-77.3654, 8.3417) construction
  line L34 (-67.3654, 13.0611) -> (-77.3654, 13.0611) construction
  line L35 (-21.3254, 13.0611) -> (-11.3254, 13.0611) construction
  dimension "d178" = 2
  dimension "d179" = 2
  dimension "d180" = 2
  dimension "d181" = 2
  dimension "d184" = 10
  dimension "d185" = 10
  dimension "d186" = 10
  dimension "d187" = 10
extrude "Extrude8" add sketch "Sketch7" along normal blind 4 contours L6 L7 L8 L9 | L10 L11 L12 L13 | L14 L15 L16 L17 | L18 L19 L20 L21 in component "Proto Board Adapter"
extrude "Extrude9" cut sketch "Sketch5" sketch "Sketch3" along normal blind 2 of sketch 2 in component "Proto Board Adapter"
fillet "Fillet5" radius 2 8 edges at (86.6706, 1, 21.4211) (86.6706, 1, 56.4211) (111.6706, 1, 56.4211) (111.6706, 1, 21.4211) (73.8454, 1, 21.4211) (73.8454, 1, 56.4211) (14.8454, 1, 21.4211) (14.8454, 1, 56.4211) in component "Proto Board Adapter"
component "Proto Board Adapter" placed x (1, 0, 0) y (0, 1, 0) z (0, 0, 1) at (0, 0, 0)
equation "d97 = ProtoWidth"
equation "d98 = ProtoWidth"
equation "d99 = ProtoWidth"
equation "d100 = ProtoWidth"
equation "d101 = ProtoWidth"
equation "d102 = ProtoWidth"
equation "d107 = ProtoGap"
equation "d108 = ProtoGap"
equation "d109 = ProtoGap"
equation "d110 = ProtoGap"
equation "d111 = ProtoHoleGap"
equation "d112 = ProtoHoleGap"
equation "d113 = ProtoHoleGap"
equation "d115 = ProtoHoleGap"
equation "d116 = ProtoGap"
equation "d117 = ProtoGap"
equation "d135 = MountingPlateThickness"
equation "d137 = StandoffBottomHeight + MountingPlateThickness"
equation "d141 = StandoffHoleDepth"
equation "d144 = StandoffHoleDepth"
equation "d147 = StandoffHoleDepth"
equation "d150 = StandoffHoleDepth"
equation "d169 = SmallFillet"
equation "MountingPlateThickness = 2 mm"
equation "StandoffBottomHeight = 6 mm"
equation "StandoffHoleDepth = 6 mm"
equation "MountingPlateFillet = 2 mm"
equation "StandoffTopHeight = 8 mm"
equation "SmallFillet = 1 mm"
equation "d177 = MountingPlateFillet"
equation "d178 = MountingPlateThickness"
equation "d179 = MountingPlateThickness"
equation "d180 = MountingPlateThickness"
equation "d181 = MountingPlateThickness"
equation "BatteryHolderHeight = StandoffBottomHeight - 2 mm"
equation "d189 = BatteryHolderHeight"
equation "d192 = MountingPlateThickness"
equation "d195 = MountingPlateFillet"
